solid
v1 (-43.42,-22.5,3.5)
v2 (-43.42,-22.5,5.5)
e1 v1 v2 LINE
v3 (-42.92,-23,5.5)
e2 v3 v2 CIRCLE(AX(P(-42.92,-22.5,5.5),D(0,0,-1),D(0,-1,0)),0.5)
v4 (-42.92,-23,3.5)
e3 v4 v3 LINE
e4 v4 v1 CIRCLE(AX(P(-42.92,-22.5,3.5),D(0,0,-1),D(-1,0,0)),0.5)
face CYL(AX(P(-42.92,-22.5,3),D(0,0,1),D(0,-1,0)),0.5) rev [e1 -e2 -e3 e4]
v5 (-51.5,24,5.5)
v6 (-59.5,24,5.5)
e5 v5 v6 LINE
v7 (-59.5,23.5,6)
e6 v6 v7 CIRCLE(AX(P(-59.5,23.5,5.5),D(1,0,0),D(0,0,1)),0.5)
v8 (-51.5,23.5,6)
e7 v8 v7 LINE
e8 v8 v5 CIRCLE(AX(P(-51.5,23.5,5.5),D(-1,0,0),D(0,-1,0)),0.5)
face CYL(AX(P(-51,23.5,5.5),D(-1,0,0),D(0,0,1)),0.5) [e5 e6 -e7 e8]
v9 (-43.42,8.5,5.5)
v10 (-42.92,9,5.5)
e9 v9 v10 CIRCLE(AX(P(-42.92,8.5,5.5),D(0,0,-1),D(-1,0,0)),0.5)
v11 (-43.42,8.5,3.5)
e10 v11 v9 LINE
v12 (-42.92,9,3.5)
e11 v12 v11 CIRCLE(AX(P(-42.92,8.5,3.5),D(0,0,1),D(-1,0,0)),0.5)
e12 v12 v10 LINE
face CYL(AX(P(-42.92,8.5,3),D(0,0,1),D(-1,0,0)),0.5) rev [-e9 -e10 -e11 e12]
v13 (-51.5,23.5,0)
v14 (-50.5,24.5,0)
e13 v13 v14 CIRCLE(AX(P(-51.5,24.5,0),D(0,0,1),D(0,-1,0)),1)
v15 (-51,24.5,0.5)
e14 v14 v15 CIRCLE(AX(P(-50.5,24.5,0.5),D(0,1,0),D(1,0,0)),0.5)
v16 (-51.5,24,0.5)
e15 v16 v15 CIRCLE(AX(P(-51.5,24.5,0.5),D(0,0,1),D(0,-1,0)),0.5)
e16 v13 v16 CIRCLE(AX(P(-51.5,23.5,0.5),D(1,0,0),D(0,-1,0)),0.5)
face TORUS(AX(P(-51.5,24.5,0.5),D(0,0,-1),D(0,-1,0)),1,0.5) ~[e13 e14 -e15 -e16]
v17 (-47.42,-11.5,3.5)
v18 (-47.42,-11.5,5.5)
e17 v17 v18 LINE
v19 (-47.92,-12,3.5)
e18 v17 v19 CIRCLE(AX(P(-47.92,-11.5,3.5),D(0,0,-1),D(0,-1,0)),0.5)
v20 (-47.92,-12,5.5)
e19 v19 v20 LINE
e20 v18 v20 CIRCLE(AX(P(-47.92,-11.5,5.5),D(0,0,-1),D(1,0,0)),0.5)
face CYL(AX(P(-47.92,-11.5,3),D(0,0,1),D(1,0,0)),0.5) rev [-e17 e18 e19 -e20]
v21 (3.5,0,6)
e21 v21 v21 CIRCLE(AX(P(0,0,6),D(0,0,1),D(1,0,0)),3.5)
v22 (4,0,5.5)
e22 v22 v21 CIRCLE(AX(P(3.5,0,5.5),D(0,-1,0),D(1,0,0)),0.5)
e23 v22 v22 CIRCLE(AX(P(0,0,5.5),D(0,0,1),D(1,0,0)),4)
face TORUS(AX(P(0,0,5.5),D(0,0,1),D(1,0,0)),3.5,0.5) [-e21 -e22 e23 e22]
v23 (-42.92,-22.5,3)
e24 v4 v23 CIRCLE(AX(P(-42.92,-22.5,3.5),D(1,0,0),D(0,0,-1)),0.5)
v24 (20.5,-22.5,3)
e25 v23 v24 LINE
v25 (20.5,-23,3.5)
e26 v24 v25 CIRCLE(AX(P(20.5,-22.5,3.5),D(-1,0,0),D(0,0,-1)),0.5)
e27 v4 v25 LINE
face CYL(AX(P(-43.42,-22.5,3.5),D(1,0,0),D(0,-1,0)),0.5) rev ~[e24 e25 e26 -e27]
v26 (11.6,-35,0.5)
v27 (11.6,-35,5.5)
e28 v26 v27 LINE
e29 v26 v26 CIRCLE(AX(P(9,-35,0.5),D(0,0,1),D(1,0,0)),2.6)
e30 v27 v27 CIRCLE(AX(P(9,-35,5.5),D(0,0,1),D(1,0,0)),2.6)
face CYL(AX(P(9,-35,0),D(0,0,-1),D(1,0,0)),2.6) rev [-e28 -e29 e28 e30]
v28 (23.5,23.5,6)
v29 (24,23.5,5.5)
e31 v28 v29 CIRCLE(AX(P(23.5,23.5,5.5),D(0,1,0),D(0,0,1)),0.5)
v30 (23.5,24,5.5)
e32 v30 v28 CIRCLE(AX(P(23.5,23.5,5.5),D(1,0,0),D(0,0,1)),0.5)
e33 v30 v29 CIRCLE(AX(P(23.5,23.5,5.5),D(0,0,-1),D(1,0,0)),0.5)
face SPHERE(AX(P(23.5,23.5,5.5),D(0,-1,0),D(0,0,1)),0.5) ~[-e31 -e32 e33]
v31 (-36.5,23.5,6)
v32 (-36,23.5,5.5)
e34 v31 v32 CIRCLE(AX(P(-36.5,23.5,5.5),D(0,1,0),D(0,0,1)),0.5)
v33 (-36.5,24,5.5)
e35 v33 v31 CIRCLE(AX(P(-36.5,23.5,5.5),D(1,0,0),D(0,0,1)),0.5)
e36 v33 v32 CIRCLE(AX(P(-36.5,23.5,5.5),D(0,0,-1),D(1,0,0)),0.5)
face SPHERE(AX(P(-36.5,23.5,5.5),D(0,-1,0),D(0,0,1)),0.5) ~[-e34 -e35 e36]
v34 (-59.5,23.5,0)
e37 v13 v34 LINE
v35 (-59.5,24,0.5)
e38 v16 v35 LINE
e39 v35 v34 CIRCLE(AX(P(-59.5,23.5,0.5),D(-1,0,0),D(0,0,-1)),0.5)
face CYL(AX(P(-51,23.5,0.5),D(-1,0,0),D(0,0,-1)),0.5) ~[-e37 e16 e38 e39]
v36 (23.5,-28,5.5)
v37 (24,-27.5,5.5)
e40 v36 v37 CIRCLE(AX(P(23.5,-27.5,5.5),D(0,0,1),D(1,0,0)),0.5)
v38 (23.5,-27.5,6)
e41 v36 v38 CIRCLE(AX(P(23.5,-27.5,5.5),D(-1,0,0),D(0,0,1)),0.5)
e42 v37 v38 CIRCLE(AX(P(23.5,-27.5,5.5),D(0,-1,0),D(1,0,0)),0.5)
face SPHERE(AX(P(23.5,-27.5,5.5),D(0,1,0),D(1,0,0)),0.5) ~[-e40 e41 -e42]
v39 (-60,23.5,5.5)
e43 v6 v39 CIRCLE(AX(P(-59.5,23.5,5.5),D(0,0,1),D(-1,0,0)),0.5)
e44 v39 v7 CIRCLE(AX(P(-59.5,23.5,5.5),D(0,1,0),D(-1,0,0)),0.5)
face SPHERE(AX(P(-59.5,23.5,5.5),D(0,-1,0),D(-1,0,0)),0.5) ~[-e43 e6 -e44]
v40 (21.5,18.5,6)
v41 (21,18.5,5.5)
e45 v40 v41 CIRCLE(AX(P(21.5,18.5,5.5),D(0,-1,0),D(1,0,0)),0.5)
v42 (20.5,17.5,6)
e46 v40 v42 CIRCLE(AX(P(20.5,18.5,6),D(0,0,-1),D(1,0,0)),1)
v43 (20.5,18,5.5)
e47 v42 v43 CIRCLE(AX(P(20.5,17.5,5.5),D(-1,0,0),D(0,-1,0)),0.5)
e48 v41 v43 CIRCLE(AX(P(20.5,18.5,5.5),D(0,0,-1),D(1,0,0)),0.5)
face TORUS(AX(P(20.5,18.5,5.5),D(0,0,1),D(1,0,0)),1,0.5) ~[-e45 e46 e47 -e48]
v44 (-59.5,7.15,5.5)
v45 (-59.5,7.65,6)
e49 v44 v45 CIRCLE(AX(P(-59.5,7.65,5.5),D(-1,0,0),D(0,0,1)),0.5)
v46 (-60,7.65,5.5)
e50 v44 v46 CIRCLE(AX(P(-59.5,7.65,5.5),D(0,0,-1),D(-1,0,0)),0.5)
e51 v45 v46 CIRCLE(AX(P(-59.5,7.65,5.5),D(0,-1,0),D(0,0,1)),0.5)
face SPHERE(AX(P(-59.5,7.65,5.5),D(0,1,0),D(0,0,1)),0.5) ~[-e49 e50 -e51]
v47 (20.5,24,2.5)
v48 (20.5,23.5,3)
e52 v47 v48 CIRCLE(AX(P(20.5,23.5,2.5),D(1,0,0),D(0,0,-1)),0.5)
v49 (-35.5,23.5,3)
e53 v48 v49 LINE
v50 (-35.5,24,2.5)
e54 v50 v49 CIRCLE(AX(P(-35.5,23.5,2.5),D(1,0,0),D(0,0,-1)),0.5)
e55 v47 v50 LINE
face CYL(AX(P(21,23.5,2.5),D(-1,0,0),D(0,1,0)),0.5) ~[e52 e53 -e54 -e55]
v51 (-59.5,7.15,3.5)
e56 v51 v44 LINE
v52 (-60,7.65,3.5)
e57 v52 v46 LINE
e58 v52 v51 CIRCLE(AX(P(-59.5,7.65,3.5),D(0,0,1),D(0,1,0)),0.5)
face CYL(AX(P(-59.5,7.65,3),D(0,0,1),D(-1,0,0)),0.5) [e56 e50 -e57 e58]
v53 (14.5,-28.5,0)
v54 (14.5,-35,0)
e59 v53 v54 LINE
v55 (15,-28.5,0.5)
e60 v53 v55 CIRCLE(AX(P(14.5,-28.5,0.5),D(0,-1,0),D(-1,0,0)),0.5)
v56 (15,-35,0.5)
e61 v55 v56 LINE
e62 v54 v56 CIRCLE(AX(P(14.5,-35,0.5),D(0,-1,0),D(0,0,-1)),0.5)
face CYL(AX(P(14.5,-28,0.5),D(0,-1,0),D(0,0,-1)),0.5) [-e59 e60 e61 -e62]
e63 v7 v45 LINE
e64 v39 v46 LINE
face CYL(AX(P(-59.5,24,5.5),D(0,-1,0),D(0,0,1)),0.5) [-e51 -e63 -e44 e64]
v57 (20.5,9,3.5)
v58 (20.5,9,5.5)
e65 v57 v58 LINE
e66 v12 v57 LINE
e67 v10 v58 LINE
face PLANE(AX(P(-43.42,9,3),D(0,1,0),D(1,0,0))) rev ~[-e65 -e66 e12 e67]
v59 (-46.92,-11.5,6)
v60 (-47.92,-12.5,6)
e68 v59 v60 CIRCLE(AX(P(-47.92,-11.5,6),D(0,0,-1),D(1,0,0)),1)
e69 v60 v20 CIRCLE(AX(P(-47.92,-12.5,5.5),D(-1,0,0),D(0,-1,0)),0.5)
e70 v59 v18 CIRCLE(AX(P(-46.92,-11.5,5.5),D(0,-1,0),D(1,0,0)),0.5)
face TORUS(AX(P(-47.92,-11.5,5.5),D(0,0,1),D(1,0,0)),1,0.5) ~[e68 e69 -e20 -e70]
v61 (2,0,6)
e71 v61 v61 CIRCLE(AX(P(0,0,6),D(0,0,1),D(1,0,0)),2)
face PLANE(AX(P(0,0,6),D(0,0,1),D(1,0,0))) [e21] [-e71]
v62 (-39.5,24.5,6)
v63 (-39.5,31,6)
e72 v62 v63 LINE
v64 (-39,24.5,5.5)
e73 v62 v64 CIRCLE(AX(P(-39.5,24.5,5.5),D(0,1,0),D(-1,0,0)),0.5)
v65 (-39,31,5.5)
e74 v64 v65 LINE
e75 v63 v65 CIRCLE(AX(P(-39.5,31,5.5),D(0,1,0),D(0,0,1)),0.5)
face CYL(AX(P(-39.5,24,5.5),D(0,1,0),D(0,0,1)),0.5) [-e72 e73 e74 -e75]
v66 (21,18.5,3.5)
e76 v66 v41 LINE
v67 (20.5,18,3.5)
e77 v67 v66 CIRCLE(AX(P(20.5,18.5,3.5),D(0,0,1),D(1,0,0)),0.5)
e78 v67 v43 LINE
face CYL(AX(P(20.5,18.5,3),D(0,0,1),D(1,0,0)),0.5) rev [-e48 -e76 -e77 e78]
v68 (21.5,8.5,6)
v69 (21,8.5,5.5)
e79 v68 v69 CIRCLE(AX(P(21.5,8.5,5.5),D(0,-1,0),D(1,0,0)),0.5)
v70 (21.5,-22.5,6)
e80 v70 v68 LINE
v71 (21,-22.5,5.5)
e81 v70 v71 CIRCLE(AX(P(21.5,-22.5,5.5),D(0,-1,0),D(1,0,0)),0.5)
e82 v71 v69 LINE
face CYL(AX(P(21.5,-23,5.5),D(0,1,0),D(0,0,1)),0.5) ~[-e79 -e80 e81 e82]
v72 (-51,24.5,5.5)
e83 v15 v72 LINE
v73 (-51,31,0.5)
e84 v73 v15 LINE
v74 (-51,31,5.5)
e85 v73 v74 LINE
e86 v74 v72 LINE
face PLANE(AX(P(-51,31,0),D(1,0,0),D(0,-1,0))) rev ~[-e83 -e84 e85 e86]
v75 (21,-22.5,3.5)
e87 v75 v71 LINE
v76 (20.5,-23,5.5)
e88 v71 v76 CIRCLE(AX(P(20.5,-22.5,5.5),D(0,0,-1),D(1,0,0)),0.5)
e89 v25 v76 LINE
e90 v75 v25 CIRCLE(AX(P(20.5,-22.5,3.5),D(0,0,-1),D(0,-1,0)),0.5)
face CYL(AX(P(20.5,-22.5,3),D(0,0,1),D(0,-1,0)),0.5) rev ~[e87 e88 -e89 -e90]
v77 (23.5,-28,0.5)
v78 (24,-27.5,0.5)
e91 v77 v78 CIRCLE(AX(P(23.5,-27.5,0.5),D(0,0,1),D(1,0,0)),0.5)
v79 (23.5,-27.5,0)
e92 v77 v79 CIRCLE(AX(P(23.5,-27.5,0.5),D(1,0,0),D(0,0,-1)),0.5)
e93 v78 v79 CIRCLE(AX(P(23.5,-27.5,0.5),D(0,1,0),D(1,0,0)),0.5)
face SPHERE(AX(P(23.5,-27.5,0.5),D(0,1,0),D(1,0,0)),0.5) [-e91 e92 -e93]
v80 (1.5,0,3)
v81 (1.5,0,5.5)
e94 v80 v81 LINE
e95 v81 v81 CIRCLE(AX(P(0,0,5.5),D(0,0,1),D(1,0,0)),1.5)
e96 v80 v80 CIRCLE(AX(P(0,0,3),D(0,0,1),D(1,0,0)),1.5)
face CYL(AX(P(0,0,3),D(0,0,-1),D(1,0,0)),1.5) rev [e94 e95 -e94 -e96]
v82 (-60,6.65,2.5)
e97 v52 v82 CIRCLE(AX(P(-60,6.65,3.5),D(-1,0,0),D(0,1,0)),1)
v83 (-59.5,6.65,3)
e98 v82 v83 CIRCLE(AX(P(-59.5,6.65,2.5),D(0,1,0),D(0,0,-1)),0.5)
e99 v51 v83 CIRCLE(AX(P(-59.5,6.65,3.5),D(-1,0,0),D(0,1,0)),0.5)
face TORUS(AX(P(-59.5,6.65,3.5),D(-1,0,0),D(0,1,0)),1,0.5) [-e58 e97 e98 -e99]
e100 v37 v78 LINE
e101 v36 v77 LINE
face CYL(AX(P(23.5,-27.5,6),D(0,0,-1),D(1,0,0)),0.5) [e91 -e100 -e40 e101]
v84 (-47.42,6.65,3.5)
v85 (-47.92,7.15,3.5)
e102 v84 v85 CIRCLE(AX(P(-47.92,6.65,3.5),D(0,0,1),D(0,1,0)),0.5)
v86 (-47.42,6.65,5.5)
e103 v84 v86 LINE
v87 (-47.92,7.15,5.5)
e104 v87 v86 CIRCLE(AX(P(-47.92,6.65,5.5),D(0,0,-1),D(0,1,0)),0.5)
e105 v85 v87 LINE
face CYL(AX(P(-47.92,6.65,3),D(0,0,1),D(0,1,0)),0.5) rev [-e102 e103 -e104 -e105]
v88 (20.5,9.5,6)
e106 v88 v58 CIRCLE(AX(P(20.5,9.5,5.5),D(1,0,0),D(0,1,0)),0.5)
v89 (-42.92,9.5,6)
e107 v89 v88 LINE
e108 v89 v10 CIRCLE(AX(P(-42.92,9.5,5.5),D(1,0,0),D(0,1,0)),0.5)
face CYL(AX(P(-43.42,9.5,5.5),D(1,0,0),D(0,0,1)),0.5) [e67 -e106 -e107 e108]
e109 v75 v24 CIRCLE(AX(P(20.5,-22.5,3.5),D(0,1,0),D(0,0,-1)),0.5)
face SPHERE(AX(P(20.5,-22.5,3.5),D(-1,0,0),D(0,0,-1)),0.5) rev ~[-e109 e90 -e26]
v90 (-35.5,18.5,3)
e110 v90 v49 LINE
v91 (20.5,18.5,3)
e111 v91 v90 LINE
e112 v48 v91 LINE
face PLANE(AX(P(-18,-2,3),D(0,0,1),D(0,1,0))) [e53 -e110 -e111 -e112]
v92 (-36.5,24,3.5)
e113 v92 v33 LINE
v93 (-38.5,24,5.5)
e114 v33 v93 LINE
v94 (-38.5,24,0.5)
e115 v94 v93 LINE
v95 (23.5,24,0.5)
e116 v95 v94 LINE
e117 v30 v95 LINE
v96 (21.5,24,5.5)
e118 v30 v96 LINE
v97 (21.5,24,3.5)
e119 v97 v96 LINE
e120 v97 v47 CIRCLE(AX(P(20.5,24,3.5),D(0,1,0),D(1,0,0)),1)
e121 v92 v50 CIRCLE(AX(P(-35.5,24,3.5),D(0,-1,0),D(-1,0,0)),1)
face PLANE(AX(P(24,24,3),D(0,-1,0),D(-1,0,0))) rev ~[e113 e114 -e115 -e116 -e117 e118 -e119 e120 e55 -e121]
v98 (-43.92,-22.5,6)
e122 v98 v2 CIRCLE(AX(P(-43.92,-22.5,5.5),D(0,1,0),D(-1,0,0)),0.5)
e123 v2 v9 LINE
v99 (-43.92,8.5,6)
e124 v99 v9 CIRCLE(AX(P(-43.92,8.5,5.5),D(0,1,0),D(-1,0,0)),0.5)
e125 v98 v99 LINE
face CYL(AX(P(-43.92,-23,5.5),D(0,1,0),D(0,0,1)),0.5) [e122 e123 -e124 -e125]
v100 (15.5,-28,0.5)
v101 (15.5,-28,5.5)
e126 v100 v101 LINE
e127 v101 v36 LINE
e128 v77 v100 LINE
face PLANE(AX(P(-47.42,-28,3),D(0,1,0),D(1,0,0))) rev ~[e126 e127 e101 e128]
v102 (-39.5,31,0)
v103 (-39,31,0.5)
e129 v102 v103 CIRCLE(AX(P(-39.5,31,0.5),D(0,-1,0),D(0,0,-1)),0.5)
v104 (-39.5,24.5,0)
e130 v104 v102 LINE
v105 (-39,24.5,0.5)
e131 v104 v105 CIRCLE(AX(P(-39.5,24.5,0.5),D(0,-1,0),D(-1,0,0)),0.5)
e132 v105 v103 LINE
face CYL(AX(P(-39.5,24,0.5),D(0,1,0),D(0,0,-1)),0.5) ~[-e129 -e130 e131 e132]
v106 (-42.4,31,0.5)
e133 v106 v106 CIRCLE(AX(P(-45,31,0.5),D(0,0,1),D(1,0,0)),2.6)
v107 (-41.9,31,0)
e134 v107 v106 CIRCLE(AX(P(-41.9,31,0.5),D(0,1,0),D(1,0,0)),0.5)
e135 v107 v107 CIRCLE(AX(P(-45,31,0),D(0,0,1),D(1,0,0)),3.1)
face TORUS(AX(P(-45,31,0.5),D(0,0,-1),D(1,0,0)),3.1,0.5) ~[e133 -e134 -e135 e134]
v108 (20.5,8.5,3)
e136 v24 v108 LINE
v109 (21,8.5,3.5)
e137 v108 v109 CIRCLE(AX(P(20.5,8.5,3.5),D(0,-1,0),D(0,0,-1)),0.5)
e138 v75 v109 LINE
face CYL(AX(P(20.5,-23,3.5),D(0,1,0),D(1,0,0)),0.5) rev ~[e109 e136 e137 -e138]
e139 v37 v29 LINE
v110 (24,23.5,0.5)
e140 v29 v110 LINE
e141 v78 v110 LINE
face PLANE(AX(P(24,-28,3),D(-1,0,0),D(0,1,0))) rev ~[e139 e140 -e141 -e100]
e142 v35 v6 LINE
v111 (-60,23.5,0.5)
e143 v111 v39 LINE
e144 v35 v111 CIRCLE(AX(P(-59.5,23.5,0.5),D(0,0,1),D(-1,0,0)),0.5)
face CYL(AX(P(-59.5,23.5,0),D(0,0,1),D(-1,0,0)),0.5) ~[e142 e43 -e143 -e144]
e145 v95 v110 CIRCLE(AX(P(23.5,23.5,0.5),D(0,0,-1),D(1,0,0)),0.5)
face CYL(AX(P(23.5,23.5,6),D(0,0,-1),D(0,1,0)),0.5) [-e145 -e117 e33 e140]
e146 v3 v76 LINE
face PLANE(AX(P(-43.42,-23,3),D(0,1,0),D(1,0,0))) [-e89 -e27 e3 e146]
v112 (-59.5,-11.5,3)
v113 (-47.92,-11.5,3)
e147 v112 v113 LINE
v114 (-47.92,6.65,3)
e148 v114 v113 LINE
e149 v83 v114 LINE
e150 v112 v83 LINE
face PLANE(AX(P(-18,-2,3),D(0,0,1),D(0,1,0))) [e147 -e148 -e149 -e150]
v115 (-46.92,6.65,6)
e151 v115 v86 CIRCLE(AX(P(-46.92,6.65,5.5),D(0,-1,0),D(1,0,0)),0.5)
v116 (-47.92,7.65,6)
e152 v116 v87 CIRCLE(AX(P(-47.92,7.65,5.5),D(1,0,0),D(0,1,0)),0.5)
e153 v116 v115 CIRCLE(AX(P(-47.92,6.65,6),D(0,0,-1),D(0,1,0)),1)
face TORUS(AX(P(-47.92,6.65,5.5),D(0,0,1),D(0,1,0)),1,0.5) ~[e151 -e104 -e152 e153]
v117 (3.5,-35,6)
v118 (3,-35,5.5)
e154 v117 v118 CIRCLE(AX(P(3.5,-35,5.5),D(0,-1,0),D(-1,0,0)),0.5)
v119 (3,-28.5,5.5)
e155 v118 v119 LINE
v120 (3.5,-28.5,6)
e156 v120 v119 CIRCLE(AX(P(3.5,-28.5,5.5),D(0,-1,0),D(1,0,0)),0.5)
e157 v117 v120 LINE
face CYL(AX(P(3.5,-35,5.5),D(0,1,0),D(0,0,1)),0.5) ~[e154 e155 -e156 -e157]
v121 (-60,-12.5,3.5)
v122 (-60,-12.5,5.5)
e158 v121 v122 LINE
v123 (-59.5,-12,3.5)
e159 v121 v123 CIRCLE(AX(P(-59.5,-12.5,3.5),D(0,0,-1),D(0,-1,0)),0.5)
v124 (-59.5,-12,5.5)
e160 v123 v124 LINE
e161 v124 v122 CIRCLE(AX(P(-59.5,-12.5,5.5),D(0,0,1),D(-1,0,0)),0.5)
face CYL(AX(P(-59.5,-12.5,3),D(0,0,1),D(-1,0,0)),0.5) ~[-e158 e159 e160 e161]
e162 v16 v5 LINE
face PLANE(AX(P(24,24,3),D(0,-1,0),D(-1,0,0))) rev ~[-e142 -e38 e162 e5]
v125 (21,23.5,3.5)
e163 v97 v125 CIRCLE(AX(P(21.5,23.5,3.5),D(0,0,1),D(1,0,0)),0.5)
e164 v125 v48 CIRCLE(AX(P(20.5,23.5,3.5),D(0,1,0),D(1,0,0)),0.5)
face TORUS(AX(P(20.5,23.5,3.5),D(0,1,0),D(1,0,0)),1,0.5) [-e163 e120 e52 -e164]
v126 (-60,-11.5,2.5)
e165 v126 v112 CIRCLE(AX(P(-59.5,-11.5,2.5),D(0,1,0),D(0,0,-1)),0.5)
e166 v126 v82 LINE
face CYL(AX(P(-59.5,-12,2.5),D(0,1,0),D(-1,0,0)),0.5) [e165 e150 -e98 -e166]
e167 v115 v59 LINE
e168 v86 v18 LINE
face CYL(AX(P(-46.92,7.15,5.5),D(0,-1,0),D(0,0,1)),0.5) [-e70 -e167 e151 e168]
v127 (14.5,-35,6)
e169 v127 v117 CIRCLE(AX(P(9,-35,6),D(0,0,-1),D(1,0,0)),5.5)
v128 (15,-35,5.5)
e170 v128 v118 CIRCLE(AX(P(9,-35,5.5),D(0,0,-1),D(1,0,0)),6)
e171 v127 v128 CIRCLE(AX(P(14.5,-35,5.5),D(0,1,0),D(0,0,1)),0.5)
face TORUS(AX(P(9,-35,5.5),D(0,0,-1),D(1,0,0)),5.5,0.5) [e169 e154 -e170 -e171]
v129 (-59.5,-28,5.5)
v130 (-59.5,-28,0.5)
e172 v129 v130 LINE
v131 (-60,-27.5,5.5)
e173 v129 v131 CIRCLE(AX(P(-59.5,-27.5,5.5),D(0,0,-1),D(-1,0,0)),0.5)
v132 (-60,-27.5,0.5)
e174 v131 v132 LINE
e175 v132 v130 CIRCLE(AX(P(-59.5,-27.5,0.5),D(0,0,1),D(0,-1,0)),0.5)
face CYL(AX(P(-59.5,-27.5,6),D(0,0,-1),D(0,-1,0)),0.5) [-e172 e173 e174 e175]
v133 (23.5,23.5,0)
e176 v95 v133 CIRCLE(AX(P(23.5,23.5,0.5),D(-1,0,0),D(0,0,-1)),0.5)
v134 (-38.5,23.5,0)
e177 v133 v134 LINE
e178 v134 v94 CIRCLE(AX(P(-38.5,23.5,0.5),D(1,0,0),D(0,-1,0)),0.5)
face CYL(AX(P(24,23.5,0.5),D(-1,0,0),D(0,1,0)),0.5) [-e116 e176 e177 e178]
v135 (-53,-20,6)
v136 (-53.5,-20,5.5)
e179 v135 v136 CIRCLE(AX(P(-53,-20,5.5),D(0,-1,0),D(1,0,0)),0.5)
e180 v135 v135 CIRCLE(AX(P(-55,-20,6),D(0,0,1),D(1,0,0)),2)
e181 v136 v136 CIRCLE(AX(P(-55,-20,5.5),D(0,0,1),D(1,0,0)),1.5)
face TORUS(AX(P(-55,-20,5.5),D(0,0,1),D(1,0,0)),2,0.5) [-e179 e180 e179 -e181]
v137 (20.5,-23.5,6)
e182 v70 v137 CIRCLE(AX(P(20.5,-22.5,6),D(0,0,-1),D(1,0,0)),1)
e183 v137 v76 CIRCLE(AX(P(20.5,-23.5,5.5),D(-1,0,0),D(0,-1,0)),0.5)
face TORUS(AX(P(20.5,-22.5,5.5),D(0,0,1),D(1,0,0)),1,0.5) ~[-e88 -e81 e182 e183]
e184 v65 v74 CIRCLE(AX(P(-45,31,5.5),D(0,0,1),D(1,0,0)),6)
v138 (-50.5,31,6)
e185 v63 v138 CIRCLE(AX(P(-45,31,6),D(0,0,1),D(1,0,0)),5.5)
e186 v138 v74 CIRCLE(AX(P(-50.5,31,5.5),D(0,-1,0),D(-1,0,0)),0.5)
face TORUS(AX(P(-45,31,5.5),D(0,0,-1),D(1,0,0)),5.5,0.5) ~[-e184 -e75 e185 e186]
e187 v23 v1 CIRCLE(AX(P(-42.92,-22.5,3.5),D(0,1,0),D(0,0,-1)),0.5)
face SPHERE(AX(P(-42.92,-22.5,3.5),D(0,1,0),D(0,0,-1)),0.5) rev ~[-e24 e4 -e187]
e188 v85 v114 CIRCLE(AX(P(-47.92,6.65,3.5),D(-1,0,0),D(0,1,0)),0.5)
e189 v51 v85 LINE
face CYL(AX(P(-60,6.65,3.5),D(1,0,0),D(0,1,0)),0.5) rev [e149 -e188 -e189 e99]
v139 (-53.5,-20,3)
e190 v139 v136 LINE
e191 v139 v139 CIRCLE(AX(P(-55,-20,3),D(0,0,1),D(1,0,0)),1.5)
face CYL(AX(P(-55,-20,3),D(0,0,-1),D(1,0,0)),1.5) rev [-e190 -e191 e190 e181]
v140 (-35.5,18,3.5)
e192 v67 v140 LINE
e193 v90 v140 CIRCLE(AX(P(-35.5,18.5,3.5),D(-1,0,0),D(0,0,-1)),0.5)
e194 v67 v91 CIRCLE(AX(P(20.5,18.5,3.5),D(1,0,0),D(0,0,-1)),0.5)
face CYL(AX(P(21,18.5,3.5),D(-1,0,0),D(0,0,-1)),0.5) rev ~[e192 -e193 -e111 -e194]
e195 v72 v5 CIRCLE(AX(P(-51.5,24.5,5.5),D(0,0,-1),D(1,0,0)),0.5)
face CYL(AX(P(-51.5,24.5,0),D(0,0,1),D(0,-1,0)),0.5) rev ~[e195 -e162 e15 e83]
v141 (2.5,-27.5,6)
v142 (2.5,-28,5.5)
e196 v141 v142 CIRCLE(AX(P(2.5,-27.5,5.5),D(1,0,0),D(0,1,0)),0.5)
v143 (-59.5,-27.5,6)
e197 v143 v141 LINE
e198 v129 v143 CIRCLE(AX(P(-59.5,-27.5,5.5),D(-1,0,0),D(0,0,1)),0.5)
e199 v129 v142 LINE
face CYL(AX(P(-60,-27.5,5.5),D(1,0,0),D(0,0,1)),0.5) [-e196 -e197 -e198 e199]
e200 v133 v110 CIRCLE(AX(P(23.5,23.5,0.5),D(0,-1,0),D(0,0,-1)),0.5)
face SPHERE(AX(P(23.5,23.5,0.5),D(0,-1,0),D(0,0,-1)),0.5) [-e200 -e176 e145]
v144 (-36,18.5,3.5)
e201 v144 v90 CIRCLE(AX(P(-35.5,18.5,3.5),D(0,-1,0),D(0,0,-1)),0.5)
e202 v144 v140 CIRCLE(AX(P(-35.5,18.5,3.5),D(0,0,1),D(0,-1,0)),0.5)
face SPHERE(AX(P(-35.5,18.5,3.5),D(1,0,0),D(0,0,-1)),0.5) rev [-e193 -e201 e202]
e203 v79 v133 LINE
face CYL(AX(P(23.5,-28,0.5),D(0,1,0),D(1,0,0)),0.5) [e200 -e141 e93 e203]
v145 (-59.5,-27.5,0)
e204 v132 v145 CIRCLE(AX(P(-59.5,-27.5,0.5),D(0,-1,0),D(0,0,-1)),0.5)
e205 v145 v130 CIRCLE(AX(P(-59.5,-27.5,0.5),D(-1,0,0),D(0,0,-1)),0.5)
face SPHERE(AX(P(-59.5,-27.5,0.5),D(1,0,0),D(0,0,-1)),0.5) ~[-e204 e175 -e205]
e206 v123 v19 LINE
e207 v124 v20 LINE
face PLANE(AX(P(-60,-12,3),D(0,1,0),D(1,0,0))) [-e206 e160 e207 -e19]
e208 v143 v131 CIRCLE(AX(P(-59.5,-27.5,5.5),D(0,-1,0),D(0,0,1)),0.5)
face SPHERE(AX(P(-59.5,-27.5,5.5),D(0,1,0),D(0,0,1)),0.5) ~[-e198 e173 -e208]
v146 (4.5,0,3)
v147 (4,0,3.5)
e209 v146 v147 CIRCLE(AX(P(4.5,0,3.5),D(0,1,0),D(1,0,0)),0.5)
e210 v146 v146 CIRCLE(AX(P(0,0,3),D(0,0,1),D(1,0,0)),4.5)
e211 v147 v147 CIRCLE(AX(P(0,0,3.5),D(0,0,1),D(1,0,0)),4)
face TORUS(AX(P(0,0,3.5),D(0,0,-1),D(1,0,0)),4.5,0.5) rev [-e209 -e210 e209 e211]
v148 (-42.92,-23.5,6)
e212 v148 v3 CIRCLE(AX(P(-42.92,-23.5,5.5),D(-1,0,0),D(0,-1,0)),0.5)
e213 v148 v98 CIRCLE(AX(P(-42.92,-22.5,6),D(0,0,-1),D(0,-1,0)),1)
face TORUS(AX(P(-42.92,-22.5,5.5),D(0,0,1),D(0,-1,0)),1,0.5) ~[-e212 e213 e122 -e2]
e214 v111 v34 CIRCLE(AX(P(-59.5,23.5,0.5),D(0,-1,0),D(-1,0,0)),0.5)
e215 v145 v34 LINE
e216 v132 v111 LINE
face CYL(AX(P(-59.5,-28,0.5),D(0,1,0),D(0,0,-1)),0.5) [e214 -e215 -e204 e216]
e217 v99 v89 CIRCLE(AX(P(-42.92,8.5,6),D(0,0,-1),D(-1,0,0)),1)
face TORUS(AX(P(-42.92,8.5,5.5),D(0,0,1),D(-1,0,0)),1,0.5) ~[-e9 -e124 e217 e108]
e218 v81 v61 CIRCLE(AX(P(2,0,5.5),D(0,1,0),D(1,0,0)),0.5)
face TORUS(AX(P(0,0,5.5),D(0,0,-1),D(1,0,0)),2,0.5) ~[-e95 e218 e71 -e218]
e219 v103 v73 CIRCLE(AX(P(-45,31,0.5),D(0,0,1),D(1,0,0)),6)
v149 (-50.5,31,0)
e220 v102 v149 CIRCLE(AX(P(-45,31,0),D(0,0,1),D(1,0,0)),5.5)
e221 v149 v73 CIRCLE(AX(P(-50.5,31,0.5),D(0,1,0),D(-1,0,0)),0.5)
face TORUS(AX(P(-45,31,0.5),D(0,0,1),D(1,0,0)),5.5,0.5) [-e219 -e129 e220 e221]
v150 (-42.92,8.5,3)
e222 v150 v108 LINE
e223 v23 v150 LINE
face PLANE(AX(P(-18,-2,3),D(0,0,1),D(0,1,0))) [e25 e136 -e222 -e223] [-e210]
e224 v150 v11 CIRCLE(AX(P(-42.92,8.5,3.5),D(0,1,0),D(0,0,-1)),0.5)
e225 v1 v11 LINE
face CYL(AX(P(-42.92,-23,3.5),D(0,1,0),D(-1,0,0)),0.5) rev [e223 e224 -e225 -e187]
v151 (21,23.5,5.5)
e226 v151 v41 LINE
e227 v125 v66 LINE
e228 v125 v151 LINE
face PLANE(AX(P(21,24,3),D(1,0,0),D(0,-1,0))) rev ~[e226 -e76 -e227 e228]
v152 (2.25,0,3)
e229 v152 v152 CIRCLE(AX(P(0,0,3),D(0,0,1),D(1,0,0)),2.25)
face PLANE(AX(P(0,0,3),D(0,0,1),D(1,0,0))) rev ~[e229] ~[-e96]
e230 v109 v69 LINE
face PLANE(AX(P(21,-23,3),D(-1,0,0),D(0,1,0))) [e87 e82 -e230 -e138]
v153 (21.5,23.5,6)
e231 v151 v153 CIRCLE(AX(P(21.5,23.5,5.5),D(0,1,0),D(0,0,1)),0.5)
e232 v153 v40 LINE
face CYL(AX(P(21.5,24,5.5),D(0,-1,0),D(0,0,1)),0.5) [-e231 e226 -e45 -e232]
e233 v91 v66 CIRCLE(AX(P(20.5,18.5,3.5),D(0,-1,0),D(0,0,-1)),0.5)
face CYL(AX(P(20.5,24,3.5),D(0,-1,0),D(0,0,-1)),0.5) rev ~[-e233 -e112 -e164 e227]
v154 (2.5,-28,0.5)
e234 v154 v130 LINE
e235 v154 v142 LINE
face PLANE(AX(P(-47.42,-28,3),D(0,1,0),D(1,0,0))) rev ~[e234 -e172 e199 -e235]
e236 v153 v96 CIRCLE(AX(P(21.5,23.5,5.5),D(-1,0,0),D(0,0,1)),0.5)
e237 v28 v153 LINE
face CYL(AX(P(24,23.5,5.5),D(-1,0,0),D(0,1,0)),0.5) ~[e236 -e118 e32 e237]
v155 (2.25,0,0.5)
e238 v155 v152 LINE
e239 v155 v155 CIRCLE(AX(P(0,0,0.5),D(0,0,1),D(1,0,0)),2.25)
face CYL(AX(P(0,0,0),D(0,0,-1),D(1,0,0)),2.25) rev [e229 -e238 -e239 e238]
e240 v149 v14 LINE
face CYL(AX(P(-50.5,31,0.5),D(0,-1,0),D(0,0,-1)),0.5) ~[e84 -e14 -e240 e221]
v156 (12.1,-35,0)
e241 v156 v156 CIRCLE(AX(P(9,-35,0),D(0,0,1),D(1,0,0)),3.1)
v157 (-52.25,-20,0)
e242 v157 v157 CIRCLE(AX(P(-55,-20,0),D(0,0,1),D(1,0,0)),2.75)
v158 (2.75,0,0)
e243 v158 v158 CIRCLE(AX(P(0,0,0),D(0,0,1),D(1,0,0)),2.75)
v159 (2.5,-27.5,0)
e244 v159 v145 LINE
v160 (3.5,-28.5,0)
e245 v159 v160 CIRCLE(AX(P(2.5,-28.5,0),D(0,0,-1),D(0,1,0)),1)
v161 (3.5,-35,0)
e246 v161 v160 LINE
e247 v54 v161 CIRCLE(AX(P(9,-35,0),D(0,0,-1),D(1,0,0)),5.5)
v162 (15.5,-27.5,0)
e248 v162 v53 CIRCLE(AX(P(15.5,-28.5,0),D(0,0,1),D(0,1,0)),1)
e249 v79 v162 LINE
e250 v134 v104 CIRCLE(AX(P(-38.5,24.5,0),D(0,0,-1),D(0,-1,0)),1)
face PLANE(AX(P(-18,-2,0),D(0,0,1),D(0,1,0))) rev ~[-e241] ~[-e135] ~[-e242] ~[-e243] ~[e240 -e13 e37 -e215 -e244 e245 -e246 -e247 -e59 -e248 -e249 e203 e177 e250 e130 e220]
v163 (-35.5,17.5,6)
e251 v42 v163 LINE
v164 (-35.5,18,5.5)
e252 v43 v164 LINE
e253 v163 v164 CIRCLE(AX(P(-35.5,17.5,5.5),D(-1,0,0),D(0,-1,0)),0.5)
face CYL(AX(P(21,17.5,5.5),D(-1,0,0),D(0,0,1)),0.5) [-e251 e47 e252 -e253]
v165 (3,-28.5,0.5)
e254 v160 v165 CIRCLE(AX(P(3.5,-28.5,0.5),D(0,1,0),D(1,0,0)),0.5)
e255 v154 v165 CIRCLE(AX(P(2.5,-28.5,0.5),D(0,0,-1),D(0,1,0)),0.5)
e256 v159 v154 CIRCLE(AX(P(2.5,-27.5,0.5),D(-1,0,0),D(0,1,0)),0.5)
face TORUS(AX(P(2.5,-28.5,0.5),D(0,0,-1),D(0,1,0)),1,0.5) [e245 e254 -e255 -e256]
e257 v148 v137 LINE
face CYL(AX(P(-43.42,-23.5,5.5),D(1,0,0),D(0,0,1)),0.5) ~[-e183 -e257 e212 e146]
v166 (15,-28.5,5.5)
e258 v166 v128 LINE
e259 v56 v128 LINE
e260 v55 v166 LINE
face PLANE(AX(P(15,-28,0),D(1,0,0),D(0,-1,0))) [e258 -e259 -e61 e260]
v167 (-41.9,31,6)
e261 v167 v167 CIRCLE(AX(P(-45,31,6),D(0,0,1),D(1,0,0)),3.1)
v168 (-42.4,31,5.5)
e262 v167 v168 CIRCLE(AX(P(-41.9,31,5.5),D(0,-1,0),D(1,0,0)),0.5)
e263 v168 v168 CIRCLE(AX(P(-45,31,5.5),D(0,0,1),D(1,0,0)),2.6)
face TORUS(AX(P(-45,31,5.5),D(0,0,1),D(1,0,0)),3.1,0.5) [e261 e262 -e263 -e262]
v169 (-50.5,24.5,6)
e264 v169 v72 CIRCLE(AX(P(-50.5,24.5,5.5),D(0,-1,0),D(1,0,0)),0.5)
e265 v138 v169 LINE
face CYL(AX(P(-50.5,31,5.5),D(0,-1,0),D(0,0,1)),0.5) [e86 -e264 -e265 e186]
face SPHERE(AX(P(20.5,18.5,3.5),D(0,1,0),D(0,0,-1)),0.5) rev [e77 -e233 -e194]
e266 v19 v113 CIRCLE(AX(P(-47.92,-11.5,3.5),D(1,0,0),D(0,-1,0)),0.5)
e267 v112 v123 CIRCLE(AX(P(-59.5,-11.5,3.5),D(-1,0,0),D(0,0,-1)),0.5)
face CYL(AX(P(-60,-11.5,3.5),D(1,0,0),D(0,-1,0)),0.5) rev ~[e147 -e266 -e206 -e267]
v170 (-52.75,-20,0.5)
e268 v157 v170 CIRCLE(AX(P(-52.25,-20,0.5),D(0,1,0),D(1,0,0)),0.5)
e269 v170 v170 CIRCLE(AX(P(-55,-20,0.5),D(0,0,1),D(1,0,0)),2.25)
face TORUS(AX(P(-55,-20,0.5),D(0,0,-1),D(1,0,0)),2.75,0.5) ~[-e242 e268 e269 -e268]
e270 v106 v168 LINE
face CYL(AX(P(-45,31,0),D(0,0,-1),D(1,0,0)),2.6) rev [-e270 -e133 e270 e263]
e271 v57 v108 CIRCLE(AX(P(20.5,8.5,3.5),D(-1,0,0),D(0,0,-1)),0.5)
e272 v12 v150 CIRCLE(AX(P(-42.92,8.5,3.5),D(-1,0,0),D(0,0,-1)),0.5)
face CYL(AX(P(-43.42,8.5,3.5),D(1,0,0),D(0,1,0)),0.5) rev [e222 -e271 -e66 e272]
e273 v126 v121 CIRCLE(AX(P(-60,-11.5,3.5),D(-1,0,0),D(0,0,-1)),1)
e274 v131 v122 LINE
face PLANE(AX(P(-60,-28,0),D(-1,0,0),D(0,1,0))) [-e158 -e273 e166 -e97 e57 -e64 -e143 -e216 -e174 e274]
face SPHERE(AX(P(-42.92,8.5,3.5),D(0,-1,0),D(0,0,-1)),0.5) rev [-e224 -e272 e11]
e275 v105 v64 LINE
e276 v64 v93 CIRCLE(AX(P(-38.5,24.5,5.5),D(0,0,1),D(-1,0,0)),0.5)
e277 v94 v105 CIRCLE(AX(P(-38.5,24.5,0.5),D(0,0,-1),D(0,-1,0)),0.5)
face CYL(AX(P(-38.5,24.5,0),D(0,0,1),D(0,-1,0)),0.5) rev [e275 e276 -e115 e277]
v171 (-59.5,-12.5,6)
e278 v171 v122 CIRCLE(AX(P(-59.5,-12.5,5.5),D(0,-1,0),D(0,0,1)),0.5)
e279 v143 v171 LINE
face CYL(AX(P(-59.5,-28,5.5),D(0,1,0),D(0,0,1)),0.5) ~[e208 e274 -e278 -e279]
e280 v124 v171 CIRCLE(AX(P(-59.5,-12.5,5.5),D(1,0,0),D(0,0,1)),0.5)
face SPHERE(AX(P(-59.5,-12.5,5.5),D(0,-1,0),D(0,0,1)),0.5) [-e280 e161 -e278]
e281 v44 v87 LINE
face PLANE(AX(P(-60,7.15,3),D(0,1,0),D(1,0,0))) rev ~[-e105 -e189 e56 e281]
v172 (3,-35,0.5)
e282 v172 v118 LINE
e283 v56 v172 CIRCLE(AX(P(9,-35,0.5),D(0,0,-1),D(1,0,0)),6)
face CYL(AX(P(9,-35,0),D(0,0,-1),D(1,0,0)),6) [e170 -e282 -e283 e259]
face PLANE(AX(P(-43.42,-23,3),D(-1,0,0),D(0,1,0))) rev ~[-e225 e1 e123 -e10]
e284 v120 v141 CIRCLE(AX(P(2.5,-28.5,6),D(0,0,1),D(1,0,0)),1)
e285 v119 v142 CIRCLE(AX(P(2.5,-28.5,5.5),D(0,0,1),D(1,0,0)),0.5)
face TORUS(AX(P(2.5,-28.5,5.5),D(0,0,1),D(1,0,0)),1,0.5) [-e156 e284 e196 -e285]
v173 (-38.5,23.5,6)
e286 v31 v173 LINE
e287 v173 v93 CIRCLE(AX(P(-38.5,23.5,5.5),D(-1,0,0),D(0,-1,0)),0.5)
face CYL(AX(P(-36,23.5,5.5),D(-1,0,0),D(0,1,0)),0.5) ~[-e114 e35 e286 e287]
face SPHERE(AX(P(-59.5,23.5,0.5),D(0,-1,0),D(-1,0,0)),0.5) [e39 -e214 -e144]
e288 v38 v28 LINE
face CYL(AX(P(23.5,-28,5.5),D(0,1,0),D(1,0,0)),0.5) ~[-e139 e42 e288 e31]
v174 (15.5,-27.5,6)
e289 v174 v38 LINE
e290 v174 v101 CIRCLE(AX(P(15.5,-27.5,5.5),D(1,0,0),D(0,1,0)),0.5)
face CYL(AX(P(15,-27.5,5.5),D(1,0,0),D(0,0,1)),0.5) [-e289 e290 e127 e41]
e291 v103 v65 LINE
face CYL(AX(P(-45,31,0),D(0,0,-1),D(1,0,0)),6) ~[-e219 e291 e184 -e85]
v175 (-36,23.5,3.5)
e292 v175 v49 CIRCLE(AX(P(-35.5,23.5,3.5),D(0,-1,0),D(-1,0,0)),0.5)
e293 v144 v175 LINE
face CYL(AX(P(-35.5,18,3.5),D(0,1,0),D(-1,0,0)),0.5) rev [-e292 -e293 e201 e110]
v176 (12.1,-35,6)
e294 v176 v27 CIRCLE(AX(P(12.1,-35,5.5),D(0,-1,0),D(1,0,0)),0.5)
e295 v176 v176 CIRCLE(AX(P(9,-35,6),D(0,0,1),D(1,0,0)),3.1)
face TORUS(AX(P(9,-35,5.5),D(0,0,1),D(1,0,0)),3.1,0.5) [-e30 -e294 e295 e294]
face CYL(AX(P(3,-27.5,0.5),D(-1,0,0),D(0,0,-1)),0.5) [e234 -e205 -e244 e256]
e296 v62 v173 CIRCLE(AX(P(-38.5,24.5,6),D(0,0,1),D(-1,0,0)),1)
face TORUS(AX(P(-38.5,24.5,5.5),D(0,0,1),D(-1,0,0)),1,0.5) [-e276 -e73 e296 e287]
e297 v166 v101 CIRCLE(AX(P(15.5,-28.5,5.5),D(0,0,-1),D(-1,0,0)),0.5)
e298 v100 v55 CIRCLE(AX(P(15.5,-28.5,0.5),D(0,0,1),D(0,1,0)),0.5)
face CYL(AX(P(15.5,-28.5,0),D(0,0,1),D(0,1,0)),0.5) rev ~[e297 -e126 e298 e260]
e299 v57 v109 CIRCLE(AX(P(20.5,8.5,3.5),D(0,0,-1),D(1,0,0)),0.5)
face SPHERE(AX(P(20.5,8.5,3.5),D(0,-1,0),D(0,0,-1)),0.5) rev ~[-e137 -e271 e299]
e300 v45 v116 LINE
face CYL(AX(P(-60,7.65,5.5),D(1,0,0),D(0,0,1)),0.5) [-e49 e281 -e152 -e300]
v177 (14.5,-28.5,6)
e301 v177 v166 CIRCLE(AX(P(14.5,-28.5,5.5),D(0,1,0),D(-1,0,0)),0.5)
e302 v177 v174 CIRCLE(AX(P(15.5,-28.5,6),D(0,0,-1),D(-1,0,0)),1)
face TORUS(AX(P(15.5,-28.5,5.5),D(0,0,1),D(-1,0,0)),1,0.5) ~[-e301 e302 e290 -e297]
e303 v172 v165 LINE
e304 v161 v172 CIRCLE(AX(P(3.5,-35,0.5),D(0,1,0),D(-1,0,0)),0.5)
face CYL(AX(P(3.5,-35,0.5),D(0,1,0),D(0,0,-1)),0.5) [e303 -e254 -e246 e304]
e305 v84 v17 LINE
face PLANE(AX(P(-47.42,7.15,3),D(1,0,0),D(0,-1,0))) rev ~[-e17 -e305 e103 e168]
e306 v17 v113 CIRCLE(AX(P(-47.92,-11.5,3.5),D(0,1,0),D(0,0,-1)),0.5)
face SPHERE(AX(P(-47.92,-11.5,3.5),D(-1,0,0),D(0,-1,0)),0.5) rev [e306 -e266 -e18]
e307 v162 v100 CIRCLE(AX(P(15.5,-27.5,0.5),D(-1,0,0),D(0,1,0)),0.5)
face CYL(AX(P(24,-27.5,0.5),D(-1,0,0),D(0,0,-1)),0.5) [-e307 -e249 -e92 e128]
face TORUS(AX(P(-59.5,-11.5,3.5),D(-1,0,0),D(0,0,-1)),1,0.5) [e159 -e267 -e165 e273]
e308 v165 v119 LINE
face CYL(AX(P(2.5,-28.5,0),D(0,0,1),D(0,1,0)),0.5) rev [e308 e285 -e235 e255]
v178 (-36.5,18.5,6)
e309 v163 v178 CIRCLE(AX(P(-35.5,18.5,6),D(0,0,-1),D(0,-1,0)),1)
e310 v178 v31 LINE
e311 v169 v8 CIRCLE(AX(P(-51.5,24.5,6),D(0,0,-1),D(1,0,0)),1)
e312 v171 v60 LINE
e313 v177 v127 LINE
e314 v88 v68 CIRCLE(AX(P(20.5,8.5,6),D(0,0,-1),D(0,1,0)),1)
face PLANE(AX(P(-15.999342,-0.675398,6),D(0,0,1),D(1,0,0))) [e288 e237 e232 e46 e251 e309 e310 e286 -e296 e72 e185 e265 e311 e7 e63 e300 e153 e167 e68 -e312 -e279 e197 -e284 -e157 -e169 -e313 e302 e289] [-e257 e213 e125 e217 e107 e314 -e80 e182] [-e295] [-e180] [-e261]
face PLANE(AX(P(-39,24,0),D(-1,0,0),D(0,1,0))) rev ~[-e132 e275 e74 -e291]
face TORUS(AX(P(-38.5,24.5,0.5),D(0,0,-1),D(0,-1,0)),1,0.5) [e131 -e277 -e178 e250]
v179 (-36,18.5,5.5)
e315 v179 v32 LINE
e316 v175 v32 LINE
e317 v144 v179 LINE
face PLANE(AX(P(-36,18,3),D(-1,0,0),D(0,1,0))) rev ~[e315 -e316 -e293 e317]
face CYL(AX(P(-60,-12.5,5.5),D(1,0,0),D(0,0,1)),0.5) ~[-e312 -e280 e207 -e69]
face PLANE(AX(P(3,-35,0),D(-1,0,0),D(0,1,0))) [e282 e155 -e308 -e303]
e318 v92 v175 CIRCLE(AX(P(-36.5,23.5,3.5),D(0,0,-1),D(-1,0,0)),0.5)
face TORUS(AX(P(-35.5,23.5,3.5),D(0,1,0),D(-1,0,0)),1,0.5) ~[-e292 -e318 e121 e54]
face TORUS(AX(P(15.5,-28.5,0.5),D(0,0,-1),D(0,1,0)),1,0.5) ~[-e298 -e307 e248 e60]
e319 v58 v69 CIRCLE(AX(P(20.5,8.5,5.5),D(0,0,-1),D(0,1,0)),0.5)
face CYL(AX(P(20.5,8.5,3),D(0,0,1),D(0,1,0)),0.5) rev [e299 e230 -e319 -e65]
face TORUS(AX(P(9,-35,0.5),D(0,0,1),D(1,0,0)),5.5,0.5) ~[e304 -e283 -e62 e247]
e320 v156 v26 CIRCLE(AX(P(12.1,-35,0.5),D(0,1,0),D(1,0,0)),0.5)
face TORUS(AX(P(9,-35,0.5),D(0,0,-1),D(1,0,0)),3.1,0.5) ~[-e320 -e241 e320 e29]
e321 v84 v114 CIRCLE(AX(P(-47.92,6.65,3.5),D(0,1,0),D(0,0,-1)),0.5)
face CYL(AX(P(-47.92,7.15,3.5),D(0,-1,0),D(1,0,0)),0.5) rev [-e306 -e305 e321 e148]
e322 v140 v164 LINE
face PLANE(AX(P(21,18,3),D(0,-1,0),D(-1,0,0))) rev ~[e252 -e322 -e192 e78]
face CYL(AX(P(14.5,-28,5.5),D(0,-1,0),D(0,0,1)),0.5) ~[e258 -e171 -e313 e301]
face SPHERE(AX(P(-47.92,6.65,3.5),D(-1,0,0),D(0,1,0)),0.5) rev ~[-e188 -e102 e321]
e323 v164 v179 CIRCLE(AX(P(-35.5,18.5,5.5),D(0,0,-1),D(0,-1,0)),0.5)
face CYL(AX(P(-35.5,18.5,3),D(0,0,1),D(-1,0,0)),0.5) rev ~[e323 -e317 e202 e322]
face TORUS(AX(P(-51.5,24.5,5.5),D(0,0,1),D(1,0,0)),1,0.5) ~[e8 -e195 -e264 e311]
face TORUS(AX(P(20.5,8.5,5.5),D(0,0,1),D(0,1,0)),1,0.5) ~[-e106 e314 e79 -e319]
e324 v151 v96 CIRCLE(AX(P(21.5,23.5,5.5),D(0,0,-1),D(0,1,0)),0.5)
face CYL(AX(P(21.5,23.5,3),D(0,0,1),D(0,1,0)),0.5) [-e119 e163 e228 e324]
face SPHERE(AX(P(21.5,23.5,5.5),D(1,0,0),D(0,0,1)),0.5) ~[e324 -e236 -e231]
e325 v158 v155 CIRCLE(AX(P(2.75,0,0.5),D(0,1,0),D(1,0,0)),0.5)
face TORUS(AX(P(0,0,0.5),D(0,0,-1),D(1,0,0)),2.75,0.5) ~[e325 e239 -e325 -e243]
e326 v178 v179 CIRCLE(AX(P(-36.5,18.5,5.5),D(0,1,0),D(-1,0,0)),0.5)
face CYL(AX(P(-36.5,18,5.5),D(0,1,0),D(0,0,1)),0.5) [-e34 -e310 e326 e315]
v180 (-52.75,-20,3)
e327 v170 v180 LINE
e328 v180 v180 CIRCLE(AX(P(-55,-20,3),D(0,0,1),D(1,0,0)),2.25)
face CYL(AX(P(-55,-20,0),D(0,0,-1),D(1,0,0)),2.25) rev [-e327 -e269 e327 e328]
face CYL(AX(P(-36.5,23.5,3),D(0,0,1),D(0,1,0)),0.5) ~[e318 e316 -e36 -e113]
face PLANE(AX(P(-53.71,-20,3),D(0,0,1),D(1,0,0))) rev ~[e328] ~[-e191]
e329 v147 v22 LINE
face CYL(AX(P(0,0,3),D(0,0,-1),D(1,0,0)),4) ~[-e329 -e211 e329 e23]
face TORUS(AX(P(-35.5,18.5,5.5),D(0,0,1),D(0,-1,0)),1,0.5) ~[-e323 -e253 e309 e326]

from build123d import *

# Parameters (mm, degrees)
SKETCH1_W               = 52
SKETCH1_H               = 84
SKETCH1_R               = 2.25
BASE_DEPTH              = 3
SKETCH2_R               = 4
SKETCH2_R_2             = 1.5
SKETCH2_W               = 12.58
SKETCH2_H               = 16
POSTS_DEPTH             = 3
SKETCH3_W               = 64.42
SKETCH3_H               = 32
SUPPORTS_DEPTH          = 3
MOUNTINGLUGS_DEPTH      = 3
MOUNTINGLUGS_DEPTH_BACK = 3
SKETCH5_R               = 2.6
FILLET2_R               = 0.5


with BuildPart() as part:
    # Sketch1 → Base (new body)
    with BuildSketch(Plane(origin=(0, 0, 0), x_dir=(0, 1, 0), z_dir=(0, 0, 1))):
        with Locations((-2, 18)):
            Rectangle(SKETCH1_W, SKETCH1_H)
        with Locations(Location((0, 0, 0), (0, 0, 270))):
            Circle(SKETCH1_R, mode=Mode.SUBTRACT)
        with Locations(Location((-20, 55, 0), (0, 0, 270))):
            Circle(SKETCH1_R, mode=Mode.SUBTRACT)
    extrude(amount=BASE_DEPTH)

    # Sketch2 → Posts (add)
    # profile 1 of 2: a face of its own
    with BuildSketch(Plane.XY.offset(3)):
        Circle(SKETCH2_R)
        Circle(SKETCH2_R_2, mode=Mode.SUBTRACT)
    # profile 2 of 2: a face of its own
    with BuildSketch(Plane.XY.offset(3)):
        with Locations((-53.71, -20)):
            Rectangle(SKETCH2_W, SKETCH2_H)
        with Locations((-55, -20)):
            Circle(SKETCH2_R_2, mode=Mode.SUBTRACT)
    extrude(amount=POSTS_DEPTH)

    # Sketch3 → Supports (add)
    with BuildSketch(Plane.XY.offset(3)):
        Polygon((24, 24), (21, 24), (21, 18), (-36, 18), (-36, 24), (-47.42, 24), (-60, 24), (-60, 7.15), (-47.42, 7.15), (-47.42, -28), (-43.42, -28), (21, -28), (24, -28), align=None)
        with Locations((-11.21, -7)):
            Rectangle(SKETCH3_W, SKETCH3_H, mode=Mode.SUBTRACT)
    extrude(amount=SUPPORTS_DEPTH)

    # Sketch5 → MountingLugs (add, two sides: drawn at the far end of the back side and taken through both)
    # profile 1 of 2: a face of its own
    with BuildSketch(Plane.XY.offset(3).offset(-MOUNTINGLUGS_DEPTH_BACK)):
        with BuildLine():
            Line((-51, 31), (-51, 24))
            Line((-51, 24), (-39, 24))
            Line((-39, 24), (-39, 31))
            ThreePointArc((-39, 31), (-45, 37), (-51, 31))
        make_face()
        with Locations((-45, 31)):
            Circle(SKETCH5_R, mode=Mode.SUBTRACT)
    # profile 2 of 2: a face of its own
    with BuildSketch(Plane.XY.offset(3).offset(-MOUNTINGLUGS_DEPTH_BACK)):
        with BuildLine():
            Line((3, -35), (3, -28))
            Line((3, -28), (15, -28))
            Line((15, -28), (15, -35))
            ThreePointArc((15, -35), (9, -41), (3, -35))
        make_face()
        with Locations((9, -35)):
            Circle(SKETCH5_R, mode=Mode.SUBTRACT)
    extrude(amount=MOUNTINGLUGS_DEPTH + MOUNTINGLUGS_DEPTH_BACK)

    # Fillet2
    fillet2_edges = [part.edges().sort_by_distance(p)[0] for p in [
        (-45, 37, 6),
        (-51, 27.5, 6),
        (-39, 27.5, 6),
        (9, -41, 0),
        (3, -31.5, 0),
        (3, -28, 3),
        (15, -28, 3),
        (15, -31.5, 0),
        (6.4, -35, 0),
        (6.4, -35, 6),
        (9, -41, 6),
        (15, -31.5, 6),
        (3, -31.5, 6),
        (-2.25, 0, 0),
        (-57.25, -20, 0),
        (-4, 0, 3),
        (-60, -20, 6),
        (-28.5, -28, 6),
        (-53.71, -12, 6),
        (-60, -12, 4.5),
        (-53.71, -12, 3),
        (-47.42, -12, 4.5),
        (-56.5, -20, 6),
        (-4, 0, 6),
        (-1.5, 0, 6),
        (-60, -2.425, 3),
        (-7.5, 24, 3),
        (24, -2, 0),
        (24, -2, 6),
        (22.5, 24, 6),
        (21, 21, 6),
        (-7.5, 18, 6),
        (-36, 21, 6),
        (-37.5, 24, 6),
        (-28.5, -28, 0),
        (-60, 15.575, 6),
        (-53.71, 7.15, 6),
        (-47.42, -2.425, 6),
        (-43.42, -7, 3),
        (-11.21, -23, 3),
        (21, -7, 3),
        (-11.21, 9, 3),
        (-60, -2, 0),
        (21, 21, 3),
        (21, 24, 4.5),
        (-7.5, 18, 3),
        (21, 18, 4.5),
        (-36, 21, 3),
        (-36, 18, 4.5),
        (-36, 24, 4.5),
        (-53.71, 7.15, 3),
        (-60, 7.15, 4.5),
        (-47.42, 7.15, 4.5),
        (-47.42, -2.425, 3),
        (-11.21, -23, 6),
        (-7.5, 24, 0),
        (21, -23, 4.5),
        (21, -7, 6),
        (21, 9, 4.5),
        (-11.21, 9, 6),
        (-43.42, 9, 4.5),
        (-43.42, -7, 6),
        (-43.42, -23, 4.5),
        (24, 24, 3),
        (24, -28, 3),
        (-60, -28, 3),
        (-60, 24, 3),
        (19.5, -28, 6),
        (19.5, -28, 0),
        (-55.5, 24, 0),
        (-55.5, 24, 6),
        (-45, 37, 0),
        (-39, 27.5, 0),
        (-39, 24, 3),
        (-51, 24, 3),
        (-51, 27.5, 0),
        (-47.6, 31, 0),
        (-47.6, 31, 6),
    ]]
    fillet(fillet2_edges, radius=FILLET2_R)


solid = part.part
